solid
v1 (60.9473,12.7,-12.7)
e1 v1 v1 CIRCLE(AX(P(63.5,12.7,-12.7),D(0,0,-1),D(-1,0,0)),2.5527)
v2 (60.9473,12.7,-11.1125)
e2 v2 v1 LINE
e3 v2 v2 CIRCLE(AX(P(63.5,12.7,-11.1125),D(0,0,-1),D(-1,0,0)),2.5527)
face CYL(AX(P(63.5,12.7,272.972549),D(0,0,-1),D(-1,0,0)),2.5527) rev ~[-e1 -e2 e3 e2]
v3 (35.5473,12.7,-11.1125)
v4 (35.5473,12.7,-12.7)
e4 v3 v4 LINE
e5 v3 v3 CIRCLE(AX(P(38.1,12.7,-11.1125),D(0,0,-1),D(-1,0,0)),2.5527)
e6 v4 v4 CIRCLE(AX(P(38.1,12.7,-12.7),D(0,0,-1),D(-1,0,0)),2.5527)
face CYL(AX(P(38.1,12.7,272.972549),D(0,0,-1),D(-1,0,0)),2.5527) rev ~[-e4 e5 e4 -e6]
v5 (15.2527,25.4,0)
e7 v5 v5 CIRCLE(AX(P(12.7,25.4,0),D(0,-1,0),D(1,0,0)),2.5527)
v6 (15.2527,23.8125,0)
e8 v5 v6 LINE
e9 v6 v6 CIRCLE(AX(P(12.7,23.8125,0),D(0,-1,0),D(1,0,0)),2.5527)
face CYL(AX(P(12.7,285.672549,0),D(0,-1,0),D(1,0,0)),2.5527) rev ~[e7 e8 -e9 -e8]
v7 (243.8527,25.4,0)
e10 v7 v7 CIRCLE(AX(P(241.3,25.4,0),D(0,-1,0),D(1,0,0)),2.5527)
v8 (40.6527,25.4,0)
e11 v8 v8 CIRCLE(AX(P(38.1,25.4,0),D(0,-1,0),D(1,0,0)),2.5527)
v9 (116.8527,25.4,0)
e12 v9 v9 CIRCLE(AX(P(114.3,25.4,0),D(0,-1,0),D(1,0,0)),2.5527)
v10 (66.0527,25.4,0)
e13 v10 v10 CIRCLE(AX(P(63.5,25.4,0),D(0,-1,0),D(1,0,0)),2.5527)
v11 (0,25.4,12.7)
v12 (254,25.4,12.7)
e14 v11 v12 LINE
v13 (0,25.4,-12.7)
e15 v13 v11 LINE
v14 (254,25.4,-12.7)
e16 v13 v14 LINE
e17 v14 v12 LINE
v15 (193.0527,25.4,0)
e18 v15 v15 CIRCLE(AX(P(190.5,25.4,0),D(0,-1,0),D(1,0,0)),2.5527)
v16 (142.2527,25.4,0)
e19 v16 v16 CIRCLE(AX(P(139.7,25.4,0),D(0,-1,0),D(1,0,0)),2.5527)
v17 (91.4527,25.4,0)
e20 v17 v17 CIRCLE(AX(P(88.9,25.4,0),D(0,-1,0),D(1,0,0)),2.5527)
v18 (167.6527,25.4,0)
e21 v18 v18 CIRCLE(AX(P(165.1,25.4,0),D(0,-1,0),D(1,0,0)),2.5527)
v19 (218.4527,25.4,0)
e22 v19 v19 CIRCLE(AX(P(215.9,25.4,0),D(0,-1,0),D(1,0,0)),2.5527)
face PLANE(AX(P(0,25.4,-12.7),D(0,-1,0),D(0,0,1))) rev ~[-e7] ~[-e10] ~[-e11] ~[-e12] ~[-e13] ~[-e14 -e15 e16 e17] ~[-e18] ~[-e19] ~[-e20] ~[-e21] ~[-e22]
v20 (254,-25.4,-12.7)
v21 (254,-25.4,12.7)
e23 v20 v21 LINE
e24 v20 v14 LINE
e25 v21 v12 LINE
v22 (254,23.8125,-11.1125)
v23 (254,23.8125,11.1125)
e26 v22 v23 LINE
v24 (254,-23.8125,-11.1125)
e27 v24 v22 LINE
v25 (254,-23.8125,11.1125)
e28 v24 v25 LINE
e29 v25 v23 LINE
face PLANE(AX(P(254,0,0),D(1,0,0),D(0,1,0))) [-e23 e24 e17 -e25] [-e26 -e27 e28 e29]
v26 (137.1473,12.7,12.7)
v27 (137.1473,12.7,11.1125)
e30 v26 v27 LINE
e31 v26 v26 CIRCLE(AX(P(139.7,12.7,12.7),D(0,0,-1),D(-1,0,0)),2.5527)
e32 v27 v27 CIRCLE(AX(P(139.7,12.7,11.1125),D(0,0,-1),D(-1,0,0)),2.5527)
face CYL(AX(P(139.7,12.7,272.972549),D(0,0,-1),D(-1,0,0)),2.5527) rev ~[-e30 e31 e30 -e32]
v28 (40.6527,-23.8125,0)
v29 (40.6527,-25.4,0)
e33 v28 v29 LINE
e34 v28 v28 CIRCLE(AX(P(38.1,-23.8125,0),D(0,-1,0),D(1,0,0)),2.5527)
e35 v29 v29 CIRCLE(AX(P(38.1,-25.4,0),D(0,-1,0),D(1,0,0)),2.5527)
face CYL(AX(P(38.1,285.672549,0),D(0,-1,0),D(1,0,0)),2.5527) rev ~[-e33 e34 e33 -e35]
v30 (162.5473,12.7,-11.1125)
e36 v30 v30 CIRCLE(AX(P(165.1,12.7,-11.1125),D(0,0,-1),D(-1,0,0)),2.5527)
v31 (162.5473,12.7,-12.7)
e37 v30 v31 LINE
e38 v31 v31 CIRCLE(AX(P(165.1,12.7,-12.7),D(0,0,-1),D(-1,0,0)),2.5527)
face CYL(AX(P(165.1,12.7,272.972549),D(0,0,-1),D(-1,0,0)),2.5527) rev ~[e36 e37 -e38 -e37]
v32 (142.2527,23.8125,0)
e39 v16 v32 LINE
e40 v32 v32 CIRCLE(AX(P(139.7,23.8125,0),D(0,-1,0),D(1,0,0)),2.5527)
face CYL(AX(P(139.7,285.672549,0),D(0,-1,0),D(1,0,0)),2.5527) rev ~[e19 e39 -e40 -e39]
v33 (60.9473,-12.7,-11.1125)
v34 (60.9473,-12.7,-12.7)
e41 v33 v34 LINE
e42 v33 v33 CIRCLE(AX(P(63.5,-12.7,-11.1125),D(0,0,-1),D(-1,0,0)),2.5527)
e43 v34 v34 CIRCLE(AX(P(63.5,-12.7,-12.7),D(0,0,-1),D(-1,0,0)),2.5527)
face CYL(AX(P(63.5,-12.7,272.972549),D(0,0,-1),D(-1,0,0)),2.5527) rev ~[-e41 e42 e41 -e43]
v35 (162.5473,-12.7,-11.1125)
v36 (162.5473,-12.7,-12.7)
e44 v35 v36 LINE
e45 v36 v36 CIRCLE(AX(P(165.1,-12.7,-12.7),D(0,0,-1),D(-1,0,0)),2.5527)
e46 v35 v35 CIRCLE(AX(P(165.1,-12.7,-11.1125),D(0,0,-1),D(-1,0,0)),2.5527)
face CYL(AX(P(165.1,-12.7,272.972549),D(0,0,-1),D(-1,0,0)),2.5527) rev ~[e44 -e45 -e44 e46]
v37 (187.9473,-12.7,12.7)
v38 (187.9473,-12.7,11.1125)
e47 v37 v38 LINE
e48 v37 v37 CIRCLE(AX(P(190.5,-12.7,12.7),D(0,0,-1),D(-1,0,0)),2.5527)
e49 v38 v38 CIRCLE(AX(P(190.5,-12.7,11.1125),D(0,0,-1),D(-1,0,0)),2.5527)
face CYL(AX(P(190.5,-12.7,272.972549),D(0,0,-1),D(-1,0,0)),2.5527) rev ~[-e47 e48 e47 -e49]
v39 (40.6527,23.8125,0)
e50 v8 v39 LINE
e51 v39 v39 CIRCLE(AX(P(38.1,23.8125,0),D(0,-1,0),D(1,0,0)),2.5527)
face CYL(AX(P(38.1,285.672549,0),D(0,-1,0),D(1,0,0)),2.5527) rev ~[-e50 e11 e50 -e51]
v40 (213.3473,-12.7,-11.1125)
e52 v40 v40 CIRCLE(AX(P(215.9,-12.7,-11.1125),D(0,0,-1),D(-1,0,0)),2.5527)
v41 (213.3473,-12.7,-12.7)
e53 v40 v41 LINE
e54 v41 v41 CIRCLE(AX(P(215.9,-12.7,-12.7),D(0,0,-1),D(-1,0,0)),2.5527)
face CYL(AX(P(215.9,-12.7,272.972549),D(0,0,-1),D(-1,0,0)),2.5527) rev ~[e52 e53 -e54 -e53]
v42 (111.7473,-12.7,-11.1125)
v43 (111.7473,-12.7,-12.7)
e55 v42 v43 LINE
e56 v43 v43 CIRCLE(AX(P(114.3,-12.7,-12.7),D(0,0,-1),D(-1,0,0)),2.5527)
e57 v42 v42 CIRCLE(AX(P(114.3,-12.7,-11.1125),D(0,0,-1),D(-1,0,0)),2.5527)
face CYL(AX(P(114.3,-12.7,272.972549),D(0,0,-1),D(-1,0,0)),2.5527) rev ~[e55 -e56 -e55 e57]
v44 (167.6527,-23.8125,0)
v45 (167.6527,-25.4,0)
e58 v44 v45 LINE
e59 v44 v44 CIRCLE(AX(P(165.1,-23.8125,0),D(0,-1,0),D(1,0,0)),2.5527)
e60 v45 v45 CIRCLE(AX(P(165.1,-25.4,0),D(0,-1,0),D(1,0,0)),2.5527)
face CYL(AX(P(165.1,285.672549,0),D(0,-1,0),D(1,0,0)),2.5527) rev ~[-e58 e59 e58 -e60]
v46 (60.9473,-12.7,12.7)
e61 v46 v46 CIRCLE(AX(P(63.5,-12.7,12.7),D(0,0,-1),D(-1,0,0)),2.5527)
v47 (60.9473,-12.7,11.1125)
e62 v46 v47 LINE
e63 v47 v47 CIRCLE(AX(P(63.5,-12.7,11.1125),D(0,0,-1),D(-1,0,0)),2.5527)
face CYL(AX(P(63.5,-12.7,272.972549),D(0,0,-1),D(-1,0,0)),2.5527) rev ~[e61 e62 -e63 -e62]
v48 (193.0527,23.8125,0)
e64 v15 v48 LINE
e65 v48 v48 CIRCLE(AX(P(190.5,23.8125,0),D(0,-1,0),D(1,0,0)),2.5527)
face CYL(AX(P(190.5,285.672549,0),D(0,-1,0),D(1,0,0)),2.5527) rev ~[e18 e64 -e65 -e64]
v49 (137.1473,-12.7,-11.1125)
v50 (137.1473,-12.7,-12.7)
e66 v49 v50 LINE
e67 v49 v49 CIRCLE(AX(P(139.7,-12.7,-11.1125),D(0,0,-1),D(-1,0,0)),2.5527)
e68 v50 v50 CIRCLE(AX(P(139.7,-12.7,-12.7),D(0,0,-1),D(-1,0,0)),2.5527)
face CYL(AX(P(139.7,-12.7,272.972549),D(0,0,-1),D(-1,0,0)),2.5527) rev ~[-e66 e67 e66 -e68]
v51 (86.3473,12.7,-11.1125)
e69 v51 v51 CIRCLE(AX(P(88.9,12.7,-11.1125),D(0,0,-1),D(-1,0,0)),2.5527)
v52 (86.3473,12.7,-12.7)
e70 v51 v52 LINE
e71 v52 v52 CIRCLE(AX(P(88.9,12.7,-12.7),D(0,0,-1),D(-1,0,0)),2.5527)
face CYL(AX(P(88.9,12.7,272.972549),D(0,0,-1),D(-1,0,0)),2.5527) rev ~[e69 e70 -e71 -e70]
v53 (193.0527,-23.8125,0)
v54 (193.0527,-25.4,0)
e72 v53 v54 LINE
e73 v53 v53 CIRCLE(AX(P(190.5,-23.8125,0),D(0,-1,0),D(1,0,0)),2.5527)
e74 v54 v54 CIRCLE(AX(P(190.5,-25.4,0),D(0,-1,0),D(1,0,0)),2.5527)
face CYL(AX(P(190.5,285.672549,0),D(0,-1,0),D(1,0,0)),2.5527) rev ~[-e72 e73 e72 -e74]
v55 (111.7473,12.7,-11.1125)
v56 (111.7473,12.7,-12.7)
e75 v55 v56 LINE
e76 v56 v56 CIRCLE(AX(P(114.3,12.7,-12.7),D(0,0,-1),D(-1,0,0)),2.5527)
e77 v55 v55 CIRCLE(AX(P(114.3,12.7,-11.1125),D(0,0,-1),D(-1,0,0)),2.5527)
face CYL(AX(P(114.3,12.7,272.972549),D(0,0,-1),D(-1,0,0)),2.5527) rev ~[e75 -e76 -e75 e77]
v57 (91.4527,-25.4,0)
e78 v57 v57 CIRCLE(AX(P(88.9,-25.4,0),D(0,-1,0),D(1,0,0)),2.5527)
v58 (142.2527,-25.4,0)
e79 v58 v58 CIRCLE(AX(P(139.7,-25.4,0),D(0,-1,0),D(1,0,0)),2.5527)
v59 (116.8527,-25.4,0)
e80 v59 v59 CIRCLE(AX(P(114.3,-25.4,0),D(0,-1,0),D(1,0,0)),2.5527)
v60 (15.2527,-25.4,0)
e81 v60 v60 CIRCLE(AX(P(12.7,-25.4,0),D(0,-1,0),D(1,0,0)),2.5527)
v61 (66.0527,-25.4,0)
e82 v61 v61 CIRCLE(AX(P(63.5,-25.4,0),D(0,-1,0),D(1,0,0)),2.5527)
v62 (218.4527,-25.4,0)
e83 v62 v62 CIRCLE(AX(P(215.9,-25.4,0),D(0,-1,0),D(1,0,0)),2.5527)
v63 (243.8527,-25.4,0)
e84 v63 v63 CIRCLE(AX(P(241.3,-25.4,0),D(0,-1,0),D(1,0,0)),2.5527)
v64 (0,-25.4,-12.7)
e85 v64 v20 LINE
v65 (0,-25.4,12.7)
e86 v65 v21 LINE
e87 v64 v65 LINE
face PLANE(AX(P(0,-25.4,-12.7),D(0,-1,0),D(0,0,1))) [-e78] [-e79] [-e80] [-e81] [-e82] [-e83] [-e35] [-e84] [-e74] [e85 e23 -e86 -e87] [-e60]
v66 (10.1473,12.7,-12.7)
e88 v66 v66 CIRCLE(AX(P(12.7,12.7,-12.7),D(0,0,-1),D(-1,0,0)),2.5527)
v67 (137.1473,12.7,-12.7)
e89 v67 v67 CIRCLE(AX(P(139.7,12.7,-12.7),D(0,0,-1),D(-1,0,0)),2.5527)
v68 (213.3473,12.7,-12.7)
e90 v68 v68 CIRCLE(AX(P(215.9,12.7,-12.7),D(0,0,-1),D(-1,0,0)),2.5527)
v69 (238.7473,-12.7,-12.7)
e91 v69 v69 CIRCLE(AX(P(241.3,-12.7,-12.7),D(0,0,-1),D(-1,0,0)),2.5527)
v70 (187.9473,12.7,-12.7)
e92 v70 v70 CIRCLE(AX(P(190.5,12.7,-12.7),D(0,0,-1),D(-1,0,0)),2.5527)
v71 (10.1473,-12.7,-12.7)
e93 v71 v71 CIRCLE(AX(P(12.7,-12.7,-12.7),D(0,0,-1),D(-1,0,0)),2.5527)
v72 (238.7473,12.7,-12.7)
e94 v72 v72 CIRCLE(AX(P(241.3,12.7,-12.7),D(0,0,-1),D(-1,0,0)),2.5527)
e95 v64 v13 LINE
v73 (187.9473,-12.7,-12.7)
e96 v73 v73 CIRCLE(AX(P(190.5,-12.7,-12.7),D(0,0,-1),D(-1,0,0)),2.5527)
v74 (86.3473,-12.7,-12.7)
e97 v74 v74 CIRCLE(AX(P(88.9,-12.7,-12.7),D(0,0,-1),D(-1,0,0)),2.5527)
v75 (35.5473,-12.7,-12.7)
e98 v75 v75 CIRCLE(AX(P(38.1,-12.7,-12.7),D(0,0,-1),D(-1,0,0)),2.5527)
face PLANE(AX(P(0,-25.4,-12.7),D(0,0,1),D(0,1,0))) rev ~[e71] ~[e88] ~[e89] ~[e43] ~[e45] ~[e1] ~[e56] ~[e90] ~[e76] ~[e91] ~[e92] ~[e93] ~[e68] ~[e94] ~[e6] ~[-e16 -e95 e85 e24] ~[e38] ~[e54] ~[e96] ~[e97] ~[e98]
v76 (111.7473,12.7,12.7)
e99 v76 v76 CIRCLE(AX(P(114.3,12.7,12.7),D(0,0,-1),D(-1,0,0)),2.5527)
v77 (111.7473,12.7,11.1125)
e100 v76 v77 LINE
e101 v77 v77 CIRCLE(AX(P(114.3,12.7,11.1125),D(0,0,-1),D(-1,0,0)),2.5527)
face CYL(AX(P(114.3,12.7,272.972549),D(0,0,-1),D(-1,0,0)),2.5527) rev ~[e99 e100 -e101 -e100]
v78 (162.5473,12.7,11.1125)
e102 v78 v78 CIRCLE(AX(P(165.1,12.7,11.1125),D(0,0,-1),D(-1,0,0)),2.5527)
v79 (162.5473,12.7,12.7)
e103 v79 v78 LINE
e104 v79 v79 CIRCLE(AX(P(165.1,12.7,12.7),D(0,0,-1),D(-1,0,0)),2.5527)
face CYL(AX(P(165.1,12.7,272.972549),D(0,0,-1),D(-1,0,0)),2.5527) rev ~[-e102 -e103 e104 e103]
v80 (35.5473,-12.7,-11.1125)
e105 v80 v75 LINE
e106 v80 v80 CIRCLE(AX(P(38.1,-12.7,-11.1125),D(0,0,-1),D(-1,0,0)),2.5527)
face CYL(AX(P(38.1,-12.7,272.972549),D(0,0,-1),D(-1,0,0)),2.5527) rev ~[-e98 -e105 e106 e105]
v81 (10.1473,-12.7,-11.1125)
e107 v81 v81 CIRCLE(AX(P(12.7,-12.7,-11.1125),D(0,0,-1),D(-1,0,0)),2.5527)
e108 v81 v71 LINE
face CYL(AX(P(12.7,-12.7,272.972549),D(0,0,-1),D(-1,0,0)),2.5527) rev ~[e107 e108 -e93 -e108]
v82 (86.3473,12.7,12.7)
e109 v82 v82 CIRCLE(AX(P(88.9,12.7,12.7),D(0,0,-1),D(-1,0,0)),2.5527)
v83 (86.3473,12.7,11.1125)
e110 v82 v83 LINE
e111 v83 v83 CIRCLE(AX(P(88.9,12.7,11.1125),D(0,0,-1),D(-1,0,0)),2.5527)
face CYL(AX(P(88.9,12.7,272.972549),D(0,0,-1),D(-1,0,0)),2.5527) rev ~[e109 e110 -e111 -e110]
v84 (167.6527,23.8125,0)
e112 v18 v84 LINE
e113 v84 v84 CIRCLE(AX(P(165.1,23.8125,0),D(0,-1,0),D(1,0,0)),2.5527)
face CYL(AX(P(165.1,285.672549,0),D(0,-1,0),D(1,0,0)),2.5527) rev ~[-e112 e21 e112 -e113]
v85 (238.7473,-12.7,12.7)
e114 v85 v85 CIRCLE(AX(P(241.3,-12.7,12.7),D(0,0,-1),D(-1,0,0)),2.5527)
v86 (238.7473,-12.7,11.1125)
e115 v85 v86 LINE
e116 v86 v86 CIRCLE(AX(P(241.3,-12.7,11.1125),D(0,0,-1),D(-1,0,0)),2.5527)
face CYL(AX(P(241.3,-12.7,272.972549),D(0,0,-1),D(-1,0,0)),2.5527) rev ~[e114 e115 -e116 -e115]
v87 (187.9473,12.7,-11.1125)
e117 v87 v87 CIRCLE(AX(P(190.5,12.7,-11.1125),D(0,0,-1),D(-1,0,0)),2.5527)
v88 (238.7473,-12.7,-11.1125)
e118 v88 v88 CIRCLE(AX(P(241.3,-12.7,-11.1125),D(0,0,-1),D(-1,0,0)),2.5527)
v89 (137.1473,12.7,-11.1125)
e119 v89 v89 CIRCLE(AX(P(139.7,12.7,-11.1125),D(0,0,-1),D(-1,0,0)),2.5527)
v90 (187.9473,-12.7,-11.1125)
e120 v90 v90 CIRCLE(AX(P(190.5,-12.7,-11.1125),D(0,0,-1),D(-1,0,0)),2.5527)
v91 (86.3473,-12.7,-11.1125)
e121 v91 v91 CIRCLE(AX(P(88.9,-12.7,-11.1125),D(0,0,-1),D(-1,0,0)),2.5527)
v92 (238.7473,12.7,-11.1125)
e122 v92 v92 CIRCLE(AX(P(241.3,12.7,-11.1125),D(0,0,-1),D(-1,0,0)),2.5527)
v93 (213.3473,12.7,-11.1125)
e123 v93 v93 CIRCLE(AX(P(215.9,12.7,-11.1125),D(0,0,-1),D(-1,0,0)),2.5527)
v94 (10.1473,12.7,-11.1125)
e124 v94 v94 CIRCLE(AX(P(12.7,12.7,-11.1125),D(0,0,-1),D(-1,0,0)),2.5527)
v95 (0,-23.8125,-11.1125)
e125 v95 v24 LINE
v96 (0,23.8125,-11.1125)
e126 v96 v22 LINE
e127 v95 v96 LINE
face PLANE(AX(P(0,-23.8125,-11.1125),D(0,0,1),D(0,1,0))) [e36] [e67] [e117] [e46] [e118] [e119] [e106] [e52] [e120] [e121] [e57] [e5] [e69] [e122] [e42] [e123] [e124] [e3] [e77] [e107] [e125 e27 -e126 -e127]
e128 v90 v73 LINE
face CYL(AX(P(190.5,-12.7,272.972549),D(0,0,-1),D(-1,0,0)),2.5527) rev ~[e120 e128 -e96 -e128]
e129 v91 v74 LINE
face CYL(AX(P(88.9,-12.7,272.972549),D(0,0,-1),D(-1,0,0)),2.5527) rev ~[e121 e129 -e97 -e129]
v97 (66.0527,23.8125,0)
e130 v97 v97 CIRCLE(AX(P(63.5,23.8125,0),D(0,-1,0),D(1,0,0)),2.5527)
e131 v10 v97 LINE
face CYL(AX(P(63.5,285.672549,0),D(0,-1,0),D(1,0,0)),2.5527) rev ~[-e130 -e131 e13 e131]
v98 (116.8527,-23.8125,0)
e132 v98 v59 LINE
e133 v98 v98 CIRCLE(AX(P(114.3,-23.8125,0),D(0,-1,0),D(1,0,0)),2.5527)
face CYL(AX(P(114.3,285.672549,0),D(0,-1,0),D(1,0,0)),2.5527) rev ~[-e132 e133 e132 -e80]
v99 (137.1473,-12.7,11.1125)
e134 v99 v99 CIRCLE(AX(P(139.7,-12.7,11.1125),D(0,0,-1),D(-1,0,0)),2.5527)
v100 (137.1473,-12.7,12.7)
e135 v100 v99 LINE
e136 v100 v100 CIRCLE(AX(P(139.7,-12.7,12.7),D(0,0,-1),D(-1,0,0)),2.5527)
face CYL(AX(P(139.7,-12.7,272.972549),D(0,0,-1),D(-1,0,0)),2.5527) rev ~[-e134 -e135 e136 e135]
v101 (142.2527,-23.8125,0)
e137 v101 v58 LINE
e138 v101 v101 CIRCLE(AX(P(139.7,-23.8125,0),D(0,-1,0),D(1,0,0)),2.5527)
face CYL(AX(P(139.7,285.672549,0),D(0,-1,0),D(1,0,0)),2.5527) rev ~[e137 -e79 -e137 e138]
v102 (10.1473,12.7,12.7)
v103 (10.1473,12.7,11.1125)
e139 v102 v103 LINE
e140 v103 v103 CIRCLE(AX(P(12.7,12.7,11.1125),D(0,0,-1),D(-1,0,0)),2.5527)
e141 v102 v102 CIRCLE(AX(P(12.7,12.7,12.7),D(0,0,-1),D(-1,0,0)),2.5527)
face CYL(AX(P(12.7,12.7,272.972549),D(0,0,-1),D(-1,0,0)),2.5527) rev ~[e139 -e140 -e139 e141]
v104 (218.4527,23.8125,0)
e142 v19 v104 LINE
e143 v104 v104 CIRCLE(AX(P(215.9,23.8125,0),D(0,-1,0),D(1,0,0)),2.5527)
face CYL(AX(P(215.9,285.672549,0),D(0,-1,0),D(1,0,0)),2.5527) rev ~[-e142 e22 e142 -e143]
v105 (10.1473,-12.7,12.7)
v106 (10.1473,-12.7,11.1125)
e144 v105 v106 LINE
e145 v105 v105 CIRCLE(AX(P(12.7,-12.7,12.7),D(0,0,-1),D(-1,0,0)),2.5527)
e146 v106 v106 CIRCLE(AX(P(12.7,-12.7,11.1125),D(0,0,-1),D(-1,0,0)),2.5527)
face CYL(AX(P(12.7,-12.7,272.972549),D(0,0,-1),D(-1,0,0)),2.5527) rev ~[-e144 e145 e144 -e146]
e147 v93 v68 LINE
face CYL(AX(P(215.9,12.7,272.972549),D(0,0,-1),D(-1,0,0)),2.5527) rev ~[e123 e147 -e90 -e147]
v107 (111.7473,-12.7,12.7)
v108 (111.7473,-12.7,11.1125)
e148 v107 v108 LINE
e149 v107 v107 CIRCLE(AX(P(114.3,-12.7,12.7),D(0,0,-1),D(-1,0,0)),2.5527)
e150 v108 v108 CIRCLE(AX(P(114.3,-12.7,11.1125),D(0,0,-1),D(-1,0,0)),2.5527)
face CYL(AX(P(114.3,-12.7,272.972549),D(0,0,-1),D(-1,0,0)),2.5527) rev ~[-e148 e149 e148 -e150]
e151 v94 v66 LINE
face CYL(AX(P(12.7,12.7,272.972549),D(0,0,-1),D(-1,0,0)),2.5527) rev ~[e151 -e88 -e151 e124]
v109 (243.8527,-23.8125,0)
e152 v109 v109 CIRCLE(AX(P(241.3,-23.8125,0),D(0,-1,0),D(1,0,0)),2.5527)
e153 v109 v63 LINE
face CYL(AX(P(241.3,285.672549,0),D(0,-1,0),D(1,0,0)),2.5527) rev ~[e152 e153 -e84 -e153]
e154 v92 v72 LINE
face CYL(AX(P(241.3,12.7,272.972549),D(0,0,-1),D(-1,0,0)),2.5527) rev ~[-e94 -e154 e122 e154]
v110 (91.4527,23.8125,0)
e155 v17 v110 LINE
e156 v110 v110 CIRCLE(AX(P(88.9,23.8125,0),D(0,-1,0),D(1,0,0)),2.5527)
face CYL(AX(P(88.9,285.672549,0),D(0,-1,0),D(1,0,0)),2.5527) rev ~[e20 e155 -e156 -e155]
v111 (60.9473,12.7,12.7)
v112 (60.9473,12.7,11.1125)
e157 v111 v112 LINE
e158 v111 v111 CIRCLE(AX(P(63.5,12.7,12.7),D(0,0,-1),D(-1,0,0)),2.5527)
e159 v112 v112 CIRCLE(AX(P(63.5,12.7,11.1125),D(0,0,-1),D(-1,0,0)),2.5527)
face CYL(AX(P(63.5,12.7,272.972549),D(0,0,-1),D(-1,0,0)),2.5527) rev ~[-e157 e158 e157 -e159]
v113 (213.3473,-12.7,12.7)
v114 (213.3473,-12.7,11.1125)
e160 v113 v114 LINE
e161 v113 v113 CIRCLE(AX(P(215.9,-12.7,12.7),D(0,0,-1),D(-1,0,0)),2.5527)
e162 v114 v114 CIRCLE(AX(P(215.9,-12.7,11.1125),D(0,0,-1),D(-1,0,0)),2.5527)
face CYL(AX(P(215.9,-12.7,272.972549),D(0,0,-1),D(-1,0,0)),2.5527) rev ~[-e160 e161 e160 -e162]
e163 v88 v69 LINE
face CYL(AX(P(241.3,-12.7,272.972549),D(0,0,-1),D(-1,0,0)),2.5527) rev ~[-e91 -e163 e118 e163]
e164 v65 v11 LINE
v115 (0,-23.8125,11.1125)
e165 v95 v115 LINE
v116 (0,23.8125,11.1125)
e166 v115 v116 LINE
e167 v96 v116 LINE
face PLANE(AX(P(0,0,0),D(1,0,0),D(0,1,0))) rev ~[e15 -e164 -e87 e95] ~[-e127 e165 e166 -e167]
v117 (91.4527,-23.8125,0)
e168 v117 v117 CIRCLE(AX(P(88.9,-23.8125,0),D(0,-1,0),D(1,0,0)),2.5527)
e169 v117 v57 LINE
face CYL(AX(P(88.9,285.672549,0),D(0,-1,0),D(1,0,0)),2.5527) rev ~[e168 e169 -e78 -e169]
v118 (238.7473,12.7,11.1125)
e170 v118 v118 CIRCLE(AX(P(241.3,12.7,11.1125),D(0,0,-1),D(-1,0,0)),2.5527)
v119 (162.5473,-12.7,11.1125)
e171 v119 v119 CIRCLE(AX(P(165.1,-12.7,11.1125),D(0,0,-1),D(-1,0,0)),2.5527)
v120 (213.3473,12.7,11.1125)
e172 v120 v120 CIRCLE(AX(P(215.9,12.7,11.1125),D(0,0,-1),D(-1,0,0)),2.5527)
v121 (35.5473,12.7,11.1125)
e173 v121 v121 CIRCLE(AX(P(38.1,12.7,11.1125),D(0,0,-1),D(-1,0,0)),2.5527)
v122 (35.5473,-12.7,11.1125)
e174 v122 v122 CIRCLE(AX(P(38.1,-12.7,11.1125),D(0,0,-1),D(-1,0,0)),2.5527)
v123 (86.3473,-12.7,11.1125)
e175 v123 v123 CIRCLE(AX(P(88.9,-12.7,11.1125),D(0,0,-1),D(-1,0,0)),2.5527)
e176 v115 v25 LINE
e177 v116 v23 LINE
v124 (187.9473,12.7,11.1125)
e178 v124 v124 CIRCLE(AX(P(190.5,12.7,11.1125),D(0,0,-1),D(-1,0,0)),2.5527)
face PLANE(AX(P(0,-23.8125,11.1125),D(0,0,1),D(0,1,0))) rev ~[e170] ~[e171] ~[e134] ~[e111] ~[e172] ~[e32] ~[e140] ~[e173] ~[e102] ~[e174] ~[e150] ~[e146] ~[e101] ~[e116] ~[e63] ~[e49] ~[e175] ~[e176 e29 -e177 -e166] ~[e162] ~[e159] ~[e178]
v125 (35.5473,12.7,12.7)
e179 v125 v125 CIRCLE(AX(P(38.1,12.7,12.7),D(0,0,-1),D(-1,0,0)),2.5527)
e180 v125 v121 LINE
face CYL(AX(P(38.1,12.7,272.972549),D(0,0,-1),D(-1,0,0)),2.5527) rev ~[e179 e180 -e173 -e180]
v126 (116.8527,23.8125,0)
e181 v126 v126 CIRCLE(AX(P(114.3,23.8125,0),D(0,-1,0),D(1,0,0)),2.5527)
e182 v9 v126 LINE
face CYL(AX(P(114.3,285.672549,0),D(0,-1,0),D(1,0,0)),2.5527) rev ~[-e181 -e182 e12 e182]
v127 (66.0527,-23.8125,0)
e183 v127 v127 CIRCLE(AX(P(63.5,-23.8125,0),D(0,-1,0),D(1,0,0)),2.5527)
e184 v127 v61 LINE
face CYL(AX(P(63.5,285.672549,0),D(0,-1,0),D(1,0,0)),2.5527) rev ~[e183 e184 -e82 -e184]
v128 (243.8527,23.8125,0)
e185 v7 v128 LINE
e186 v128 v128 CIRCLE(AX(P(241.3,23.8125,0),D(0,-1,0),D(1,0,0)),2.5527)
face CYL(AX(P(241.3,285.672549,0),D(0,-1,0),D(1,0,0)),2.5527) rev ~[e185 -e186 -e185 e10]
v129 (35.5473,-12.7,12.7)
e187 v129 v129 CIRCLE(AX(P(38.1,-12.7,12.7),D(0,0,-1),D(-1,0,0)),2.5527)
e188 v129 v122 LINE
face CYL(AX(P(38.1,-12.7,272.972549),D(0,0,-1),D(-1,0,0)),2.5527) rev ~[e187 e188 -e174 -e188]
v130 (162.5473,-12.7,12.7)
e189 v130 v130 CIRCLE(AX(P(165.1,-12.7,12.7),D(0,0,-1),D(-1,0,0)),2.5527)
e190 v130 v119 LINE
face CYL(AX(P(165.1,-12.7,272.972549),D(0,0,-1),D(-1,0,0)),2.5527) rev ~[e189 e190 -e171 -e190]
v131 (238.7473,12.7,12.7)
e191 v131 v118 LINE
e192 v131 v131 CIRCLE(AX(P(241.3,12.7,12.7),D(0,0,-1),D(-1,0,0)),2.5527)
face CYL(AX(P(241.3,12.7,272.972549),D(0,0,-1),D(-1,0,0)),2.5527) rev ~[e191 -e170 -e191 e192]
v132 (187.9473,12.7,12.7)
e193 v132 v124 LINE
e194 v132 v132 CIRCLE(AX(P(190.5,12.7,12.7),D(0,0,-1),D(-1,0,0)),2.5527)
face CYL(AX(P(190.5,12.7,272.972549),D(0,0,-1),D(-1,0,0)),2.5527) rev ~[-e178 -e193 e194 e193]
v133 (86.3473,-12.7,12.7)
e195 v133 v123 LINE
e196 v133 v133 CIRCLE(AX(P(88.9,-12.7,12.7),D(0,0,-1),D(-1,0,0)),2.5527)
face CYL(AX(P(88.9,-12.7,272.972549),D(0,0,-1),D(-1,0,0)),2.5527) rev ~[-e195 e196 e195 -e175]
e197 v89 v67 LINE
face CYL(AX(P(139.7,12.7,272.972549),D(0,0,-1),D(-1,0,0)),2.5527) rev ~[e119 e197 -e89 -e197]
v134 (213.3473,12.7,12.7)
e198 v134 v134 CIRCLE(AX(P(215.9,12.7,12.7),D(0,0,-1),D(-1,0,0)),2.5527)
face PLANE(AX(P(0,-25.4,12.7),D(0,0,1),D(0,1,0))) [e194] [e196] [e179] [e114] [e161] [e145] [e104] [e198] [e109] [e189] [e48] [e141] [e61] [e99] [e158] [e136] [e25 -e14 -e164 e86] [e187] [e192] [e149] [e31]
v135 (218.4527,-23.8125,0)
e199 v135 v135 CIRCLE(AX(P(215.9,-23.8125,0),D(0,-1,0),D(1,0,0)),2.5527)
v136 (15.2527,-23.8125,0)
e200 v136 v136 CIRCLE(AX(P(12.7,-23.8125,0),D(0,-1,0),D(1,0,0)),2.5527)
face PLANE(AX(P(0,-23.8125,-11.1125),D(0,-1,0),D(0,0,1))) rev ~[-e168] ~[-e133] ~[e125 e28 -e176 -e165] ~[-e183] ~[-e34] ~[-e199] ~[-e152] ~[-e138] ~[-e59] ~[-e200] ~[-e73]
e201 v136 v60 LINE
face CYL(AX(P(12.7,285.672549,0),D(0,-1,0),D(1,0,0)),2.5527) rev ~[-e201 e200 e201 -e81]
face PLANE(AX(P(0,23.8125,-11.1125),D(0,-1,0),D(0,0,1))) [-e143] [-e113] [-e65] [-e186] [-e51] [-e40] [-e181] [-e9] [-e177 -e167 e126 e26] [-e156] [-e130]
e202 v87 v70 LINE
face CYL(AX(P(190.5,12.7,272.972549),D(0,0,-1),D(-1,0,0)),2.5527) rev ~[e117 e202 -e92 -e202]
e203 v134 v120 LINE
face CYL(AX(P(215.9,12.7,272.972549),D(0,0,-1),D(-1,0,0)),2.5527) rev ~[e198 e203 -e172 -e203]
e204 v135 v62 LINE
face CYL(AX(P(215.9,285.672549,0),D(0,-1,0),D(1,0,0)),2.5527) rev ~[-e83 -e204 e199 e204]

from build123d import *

# Parameters (mm, degrees)
F0_W     = 50.8
F0_H     = 25.4
F0_W_2   = 47.625
F0_H_2   = 22.225
F1_DEPTH = 254
F3_D     = 5.1054
F5_D     = 5.1054


with BuildPart() as f1:
    # F0 (on Right) → F1 (new body)
    with BuildSketch(Plane.YZ):
        Rectangle(F0_W, F0_H)
        Rectangle(F0_W_2, F0_H_2, mode=Mode.SUBTRACT)
    extrude(amount=F1_DEPTH)

    # F3 (through all)
    with Locations(Plane.XY.offset(12.7)):
        with Locations((38.1, -12.7), (63.5, 12.7), (63.5, -12.7), (88.9, 12.7), (88.9, -12.7), (114.3, 12.7), (241.3, -12.7), (215.9, -12.7), (190.5, -12.7), (165.1, -12.7), (241.3, 12.7), (215.9, 12.7), (114.3, -12.7), (190.5, 12.7), (139.7, 12.7), (139.7, -12.7), (165.1, 12.7), (12.7, 12.7), (12.7, -12.7), (38.1, 12.7)):
            Hole(F3_D / 2)

    # F5 (through all)
    with Locations(Plane(origin=(0, 25.4, 0), x_dir=(-1, 0, 0), z_dir=(0, 1, 0))):
        with Locations((-215.9, 0), (-165.1, 0), (-190.5, 0), (-139.7, 0), (-241.3, 0), (-114.3, 0), (-63.5, 0), (-88.9, 0), (-12.7, 0), (-38.1, 0)):
            Hole(F5_D / 2)


solid = f1.part
